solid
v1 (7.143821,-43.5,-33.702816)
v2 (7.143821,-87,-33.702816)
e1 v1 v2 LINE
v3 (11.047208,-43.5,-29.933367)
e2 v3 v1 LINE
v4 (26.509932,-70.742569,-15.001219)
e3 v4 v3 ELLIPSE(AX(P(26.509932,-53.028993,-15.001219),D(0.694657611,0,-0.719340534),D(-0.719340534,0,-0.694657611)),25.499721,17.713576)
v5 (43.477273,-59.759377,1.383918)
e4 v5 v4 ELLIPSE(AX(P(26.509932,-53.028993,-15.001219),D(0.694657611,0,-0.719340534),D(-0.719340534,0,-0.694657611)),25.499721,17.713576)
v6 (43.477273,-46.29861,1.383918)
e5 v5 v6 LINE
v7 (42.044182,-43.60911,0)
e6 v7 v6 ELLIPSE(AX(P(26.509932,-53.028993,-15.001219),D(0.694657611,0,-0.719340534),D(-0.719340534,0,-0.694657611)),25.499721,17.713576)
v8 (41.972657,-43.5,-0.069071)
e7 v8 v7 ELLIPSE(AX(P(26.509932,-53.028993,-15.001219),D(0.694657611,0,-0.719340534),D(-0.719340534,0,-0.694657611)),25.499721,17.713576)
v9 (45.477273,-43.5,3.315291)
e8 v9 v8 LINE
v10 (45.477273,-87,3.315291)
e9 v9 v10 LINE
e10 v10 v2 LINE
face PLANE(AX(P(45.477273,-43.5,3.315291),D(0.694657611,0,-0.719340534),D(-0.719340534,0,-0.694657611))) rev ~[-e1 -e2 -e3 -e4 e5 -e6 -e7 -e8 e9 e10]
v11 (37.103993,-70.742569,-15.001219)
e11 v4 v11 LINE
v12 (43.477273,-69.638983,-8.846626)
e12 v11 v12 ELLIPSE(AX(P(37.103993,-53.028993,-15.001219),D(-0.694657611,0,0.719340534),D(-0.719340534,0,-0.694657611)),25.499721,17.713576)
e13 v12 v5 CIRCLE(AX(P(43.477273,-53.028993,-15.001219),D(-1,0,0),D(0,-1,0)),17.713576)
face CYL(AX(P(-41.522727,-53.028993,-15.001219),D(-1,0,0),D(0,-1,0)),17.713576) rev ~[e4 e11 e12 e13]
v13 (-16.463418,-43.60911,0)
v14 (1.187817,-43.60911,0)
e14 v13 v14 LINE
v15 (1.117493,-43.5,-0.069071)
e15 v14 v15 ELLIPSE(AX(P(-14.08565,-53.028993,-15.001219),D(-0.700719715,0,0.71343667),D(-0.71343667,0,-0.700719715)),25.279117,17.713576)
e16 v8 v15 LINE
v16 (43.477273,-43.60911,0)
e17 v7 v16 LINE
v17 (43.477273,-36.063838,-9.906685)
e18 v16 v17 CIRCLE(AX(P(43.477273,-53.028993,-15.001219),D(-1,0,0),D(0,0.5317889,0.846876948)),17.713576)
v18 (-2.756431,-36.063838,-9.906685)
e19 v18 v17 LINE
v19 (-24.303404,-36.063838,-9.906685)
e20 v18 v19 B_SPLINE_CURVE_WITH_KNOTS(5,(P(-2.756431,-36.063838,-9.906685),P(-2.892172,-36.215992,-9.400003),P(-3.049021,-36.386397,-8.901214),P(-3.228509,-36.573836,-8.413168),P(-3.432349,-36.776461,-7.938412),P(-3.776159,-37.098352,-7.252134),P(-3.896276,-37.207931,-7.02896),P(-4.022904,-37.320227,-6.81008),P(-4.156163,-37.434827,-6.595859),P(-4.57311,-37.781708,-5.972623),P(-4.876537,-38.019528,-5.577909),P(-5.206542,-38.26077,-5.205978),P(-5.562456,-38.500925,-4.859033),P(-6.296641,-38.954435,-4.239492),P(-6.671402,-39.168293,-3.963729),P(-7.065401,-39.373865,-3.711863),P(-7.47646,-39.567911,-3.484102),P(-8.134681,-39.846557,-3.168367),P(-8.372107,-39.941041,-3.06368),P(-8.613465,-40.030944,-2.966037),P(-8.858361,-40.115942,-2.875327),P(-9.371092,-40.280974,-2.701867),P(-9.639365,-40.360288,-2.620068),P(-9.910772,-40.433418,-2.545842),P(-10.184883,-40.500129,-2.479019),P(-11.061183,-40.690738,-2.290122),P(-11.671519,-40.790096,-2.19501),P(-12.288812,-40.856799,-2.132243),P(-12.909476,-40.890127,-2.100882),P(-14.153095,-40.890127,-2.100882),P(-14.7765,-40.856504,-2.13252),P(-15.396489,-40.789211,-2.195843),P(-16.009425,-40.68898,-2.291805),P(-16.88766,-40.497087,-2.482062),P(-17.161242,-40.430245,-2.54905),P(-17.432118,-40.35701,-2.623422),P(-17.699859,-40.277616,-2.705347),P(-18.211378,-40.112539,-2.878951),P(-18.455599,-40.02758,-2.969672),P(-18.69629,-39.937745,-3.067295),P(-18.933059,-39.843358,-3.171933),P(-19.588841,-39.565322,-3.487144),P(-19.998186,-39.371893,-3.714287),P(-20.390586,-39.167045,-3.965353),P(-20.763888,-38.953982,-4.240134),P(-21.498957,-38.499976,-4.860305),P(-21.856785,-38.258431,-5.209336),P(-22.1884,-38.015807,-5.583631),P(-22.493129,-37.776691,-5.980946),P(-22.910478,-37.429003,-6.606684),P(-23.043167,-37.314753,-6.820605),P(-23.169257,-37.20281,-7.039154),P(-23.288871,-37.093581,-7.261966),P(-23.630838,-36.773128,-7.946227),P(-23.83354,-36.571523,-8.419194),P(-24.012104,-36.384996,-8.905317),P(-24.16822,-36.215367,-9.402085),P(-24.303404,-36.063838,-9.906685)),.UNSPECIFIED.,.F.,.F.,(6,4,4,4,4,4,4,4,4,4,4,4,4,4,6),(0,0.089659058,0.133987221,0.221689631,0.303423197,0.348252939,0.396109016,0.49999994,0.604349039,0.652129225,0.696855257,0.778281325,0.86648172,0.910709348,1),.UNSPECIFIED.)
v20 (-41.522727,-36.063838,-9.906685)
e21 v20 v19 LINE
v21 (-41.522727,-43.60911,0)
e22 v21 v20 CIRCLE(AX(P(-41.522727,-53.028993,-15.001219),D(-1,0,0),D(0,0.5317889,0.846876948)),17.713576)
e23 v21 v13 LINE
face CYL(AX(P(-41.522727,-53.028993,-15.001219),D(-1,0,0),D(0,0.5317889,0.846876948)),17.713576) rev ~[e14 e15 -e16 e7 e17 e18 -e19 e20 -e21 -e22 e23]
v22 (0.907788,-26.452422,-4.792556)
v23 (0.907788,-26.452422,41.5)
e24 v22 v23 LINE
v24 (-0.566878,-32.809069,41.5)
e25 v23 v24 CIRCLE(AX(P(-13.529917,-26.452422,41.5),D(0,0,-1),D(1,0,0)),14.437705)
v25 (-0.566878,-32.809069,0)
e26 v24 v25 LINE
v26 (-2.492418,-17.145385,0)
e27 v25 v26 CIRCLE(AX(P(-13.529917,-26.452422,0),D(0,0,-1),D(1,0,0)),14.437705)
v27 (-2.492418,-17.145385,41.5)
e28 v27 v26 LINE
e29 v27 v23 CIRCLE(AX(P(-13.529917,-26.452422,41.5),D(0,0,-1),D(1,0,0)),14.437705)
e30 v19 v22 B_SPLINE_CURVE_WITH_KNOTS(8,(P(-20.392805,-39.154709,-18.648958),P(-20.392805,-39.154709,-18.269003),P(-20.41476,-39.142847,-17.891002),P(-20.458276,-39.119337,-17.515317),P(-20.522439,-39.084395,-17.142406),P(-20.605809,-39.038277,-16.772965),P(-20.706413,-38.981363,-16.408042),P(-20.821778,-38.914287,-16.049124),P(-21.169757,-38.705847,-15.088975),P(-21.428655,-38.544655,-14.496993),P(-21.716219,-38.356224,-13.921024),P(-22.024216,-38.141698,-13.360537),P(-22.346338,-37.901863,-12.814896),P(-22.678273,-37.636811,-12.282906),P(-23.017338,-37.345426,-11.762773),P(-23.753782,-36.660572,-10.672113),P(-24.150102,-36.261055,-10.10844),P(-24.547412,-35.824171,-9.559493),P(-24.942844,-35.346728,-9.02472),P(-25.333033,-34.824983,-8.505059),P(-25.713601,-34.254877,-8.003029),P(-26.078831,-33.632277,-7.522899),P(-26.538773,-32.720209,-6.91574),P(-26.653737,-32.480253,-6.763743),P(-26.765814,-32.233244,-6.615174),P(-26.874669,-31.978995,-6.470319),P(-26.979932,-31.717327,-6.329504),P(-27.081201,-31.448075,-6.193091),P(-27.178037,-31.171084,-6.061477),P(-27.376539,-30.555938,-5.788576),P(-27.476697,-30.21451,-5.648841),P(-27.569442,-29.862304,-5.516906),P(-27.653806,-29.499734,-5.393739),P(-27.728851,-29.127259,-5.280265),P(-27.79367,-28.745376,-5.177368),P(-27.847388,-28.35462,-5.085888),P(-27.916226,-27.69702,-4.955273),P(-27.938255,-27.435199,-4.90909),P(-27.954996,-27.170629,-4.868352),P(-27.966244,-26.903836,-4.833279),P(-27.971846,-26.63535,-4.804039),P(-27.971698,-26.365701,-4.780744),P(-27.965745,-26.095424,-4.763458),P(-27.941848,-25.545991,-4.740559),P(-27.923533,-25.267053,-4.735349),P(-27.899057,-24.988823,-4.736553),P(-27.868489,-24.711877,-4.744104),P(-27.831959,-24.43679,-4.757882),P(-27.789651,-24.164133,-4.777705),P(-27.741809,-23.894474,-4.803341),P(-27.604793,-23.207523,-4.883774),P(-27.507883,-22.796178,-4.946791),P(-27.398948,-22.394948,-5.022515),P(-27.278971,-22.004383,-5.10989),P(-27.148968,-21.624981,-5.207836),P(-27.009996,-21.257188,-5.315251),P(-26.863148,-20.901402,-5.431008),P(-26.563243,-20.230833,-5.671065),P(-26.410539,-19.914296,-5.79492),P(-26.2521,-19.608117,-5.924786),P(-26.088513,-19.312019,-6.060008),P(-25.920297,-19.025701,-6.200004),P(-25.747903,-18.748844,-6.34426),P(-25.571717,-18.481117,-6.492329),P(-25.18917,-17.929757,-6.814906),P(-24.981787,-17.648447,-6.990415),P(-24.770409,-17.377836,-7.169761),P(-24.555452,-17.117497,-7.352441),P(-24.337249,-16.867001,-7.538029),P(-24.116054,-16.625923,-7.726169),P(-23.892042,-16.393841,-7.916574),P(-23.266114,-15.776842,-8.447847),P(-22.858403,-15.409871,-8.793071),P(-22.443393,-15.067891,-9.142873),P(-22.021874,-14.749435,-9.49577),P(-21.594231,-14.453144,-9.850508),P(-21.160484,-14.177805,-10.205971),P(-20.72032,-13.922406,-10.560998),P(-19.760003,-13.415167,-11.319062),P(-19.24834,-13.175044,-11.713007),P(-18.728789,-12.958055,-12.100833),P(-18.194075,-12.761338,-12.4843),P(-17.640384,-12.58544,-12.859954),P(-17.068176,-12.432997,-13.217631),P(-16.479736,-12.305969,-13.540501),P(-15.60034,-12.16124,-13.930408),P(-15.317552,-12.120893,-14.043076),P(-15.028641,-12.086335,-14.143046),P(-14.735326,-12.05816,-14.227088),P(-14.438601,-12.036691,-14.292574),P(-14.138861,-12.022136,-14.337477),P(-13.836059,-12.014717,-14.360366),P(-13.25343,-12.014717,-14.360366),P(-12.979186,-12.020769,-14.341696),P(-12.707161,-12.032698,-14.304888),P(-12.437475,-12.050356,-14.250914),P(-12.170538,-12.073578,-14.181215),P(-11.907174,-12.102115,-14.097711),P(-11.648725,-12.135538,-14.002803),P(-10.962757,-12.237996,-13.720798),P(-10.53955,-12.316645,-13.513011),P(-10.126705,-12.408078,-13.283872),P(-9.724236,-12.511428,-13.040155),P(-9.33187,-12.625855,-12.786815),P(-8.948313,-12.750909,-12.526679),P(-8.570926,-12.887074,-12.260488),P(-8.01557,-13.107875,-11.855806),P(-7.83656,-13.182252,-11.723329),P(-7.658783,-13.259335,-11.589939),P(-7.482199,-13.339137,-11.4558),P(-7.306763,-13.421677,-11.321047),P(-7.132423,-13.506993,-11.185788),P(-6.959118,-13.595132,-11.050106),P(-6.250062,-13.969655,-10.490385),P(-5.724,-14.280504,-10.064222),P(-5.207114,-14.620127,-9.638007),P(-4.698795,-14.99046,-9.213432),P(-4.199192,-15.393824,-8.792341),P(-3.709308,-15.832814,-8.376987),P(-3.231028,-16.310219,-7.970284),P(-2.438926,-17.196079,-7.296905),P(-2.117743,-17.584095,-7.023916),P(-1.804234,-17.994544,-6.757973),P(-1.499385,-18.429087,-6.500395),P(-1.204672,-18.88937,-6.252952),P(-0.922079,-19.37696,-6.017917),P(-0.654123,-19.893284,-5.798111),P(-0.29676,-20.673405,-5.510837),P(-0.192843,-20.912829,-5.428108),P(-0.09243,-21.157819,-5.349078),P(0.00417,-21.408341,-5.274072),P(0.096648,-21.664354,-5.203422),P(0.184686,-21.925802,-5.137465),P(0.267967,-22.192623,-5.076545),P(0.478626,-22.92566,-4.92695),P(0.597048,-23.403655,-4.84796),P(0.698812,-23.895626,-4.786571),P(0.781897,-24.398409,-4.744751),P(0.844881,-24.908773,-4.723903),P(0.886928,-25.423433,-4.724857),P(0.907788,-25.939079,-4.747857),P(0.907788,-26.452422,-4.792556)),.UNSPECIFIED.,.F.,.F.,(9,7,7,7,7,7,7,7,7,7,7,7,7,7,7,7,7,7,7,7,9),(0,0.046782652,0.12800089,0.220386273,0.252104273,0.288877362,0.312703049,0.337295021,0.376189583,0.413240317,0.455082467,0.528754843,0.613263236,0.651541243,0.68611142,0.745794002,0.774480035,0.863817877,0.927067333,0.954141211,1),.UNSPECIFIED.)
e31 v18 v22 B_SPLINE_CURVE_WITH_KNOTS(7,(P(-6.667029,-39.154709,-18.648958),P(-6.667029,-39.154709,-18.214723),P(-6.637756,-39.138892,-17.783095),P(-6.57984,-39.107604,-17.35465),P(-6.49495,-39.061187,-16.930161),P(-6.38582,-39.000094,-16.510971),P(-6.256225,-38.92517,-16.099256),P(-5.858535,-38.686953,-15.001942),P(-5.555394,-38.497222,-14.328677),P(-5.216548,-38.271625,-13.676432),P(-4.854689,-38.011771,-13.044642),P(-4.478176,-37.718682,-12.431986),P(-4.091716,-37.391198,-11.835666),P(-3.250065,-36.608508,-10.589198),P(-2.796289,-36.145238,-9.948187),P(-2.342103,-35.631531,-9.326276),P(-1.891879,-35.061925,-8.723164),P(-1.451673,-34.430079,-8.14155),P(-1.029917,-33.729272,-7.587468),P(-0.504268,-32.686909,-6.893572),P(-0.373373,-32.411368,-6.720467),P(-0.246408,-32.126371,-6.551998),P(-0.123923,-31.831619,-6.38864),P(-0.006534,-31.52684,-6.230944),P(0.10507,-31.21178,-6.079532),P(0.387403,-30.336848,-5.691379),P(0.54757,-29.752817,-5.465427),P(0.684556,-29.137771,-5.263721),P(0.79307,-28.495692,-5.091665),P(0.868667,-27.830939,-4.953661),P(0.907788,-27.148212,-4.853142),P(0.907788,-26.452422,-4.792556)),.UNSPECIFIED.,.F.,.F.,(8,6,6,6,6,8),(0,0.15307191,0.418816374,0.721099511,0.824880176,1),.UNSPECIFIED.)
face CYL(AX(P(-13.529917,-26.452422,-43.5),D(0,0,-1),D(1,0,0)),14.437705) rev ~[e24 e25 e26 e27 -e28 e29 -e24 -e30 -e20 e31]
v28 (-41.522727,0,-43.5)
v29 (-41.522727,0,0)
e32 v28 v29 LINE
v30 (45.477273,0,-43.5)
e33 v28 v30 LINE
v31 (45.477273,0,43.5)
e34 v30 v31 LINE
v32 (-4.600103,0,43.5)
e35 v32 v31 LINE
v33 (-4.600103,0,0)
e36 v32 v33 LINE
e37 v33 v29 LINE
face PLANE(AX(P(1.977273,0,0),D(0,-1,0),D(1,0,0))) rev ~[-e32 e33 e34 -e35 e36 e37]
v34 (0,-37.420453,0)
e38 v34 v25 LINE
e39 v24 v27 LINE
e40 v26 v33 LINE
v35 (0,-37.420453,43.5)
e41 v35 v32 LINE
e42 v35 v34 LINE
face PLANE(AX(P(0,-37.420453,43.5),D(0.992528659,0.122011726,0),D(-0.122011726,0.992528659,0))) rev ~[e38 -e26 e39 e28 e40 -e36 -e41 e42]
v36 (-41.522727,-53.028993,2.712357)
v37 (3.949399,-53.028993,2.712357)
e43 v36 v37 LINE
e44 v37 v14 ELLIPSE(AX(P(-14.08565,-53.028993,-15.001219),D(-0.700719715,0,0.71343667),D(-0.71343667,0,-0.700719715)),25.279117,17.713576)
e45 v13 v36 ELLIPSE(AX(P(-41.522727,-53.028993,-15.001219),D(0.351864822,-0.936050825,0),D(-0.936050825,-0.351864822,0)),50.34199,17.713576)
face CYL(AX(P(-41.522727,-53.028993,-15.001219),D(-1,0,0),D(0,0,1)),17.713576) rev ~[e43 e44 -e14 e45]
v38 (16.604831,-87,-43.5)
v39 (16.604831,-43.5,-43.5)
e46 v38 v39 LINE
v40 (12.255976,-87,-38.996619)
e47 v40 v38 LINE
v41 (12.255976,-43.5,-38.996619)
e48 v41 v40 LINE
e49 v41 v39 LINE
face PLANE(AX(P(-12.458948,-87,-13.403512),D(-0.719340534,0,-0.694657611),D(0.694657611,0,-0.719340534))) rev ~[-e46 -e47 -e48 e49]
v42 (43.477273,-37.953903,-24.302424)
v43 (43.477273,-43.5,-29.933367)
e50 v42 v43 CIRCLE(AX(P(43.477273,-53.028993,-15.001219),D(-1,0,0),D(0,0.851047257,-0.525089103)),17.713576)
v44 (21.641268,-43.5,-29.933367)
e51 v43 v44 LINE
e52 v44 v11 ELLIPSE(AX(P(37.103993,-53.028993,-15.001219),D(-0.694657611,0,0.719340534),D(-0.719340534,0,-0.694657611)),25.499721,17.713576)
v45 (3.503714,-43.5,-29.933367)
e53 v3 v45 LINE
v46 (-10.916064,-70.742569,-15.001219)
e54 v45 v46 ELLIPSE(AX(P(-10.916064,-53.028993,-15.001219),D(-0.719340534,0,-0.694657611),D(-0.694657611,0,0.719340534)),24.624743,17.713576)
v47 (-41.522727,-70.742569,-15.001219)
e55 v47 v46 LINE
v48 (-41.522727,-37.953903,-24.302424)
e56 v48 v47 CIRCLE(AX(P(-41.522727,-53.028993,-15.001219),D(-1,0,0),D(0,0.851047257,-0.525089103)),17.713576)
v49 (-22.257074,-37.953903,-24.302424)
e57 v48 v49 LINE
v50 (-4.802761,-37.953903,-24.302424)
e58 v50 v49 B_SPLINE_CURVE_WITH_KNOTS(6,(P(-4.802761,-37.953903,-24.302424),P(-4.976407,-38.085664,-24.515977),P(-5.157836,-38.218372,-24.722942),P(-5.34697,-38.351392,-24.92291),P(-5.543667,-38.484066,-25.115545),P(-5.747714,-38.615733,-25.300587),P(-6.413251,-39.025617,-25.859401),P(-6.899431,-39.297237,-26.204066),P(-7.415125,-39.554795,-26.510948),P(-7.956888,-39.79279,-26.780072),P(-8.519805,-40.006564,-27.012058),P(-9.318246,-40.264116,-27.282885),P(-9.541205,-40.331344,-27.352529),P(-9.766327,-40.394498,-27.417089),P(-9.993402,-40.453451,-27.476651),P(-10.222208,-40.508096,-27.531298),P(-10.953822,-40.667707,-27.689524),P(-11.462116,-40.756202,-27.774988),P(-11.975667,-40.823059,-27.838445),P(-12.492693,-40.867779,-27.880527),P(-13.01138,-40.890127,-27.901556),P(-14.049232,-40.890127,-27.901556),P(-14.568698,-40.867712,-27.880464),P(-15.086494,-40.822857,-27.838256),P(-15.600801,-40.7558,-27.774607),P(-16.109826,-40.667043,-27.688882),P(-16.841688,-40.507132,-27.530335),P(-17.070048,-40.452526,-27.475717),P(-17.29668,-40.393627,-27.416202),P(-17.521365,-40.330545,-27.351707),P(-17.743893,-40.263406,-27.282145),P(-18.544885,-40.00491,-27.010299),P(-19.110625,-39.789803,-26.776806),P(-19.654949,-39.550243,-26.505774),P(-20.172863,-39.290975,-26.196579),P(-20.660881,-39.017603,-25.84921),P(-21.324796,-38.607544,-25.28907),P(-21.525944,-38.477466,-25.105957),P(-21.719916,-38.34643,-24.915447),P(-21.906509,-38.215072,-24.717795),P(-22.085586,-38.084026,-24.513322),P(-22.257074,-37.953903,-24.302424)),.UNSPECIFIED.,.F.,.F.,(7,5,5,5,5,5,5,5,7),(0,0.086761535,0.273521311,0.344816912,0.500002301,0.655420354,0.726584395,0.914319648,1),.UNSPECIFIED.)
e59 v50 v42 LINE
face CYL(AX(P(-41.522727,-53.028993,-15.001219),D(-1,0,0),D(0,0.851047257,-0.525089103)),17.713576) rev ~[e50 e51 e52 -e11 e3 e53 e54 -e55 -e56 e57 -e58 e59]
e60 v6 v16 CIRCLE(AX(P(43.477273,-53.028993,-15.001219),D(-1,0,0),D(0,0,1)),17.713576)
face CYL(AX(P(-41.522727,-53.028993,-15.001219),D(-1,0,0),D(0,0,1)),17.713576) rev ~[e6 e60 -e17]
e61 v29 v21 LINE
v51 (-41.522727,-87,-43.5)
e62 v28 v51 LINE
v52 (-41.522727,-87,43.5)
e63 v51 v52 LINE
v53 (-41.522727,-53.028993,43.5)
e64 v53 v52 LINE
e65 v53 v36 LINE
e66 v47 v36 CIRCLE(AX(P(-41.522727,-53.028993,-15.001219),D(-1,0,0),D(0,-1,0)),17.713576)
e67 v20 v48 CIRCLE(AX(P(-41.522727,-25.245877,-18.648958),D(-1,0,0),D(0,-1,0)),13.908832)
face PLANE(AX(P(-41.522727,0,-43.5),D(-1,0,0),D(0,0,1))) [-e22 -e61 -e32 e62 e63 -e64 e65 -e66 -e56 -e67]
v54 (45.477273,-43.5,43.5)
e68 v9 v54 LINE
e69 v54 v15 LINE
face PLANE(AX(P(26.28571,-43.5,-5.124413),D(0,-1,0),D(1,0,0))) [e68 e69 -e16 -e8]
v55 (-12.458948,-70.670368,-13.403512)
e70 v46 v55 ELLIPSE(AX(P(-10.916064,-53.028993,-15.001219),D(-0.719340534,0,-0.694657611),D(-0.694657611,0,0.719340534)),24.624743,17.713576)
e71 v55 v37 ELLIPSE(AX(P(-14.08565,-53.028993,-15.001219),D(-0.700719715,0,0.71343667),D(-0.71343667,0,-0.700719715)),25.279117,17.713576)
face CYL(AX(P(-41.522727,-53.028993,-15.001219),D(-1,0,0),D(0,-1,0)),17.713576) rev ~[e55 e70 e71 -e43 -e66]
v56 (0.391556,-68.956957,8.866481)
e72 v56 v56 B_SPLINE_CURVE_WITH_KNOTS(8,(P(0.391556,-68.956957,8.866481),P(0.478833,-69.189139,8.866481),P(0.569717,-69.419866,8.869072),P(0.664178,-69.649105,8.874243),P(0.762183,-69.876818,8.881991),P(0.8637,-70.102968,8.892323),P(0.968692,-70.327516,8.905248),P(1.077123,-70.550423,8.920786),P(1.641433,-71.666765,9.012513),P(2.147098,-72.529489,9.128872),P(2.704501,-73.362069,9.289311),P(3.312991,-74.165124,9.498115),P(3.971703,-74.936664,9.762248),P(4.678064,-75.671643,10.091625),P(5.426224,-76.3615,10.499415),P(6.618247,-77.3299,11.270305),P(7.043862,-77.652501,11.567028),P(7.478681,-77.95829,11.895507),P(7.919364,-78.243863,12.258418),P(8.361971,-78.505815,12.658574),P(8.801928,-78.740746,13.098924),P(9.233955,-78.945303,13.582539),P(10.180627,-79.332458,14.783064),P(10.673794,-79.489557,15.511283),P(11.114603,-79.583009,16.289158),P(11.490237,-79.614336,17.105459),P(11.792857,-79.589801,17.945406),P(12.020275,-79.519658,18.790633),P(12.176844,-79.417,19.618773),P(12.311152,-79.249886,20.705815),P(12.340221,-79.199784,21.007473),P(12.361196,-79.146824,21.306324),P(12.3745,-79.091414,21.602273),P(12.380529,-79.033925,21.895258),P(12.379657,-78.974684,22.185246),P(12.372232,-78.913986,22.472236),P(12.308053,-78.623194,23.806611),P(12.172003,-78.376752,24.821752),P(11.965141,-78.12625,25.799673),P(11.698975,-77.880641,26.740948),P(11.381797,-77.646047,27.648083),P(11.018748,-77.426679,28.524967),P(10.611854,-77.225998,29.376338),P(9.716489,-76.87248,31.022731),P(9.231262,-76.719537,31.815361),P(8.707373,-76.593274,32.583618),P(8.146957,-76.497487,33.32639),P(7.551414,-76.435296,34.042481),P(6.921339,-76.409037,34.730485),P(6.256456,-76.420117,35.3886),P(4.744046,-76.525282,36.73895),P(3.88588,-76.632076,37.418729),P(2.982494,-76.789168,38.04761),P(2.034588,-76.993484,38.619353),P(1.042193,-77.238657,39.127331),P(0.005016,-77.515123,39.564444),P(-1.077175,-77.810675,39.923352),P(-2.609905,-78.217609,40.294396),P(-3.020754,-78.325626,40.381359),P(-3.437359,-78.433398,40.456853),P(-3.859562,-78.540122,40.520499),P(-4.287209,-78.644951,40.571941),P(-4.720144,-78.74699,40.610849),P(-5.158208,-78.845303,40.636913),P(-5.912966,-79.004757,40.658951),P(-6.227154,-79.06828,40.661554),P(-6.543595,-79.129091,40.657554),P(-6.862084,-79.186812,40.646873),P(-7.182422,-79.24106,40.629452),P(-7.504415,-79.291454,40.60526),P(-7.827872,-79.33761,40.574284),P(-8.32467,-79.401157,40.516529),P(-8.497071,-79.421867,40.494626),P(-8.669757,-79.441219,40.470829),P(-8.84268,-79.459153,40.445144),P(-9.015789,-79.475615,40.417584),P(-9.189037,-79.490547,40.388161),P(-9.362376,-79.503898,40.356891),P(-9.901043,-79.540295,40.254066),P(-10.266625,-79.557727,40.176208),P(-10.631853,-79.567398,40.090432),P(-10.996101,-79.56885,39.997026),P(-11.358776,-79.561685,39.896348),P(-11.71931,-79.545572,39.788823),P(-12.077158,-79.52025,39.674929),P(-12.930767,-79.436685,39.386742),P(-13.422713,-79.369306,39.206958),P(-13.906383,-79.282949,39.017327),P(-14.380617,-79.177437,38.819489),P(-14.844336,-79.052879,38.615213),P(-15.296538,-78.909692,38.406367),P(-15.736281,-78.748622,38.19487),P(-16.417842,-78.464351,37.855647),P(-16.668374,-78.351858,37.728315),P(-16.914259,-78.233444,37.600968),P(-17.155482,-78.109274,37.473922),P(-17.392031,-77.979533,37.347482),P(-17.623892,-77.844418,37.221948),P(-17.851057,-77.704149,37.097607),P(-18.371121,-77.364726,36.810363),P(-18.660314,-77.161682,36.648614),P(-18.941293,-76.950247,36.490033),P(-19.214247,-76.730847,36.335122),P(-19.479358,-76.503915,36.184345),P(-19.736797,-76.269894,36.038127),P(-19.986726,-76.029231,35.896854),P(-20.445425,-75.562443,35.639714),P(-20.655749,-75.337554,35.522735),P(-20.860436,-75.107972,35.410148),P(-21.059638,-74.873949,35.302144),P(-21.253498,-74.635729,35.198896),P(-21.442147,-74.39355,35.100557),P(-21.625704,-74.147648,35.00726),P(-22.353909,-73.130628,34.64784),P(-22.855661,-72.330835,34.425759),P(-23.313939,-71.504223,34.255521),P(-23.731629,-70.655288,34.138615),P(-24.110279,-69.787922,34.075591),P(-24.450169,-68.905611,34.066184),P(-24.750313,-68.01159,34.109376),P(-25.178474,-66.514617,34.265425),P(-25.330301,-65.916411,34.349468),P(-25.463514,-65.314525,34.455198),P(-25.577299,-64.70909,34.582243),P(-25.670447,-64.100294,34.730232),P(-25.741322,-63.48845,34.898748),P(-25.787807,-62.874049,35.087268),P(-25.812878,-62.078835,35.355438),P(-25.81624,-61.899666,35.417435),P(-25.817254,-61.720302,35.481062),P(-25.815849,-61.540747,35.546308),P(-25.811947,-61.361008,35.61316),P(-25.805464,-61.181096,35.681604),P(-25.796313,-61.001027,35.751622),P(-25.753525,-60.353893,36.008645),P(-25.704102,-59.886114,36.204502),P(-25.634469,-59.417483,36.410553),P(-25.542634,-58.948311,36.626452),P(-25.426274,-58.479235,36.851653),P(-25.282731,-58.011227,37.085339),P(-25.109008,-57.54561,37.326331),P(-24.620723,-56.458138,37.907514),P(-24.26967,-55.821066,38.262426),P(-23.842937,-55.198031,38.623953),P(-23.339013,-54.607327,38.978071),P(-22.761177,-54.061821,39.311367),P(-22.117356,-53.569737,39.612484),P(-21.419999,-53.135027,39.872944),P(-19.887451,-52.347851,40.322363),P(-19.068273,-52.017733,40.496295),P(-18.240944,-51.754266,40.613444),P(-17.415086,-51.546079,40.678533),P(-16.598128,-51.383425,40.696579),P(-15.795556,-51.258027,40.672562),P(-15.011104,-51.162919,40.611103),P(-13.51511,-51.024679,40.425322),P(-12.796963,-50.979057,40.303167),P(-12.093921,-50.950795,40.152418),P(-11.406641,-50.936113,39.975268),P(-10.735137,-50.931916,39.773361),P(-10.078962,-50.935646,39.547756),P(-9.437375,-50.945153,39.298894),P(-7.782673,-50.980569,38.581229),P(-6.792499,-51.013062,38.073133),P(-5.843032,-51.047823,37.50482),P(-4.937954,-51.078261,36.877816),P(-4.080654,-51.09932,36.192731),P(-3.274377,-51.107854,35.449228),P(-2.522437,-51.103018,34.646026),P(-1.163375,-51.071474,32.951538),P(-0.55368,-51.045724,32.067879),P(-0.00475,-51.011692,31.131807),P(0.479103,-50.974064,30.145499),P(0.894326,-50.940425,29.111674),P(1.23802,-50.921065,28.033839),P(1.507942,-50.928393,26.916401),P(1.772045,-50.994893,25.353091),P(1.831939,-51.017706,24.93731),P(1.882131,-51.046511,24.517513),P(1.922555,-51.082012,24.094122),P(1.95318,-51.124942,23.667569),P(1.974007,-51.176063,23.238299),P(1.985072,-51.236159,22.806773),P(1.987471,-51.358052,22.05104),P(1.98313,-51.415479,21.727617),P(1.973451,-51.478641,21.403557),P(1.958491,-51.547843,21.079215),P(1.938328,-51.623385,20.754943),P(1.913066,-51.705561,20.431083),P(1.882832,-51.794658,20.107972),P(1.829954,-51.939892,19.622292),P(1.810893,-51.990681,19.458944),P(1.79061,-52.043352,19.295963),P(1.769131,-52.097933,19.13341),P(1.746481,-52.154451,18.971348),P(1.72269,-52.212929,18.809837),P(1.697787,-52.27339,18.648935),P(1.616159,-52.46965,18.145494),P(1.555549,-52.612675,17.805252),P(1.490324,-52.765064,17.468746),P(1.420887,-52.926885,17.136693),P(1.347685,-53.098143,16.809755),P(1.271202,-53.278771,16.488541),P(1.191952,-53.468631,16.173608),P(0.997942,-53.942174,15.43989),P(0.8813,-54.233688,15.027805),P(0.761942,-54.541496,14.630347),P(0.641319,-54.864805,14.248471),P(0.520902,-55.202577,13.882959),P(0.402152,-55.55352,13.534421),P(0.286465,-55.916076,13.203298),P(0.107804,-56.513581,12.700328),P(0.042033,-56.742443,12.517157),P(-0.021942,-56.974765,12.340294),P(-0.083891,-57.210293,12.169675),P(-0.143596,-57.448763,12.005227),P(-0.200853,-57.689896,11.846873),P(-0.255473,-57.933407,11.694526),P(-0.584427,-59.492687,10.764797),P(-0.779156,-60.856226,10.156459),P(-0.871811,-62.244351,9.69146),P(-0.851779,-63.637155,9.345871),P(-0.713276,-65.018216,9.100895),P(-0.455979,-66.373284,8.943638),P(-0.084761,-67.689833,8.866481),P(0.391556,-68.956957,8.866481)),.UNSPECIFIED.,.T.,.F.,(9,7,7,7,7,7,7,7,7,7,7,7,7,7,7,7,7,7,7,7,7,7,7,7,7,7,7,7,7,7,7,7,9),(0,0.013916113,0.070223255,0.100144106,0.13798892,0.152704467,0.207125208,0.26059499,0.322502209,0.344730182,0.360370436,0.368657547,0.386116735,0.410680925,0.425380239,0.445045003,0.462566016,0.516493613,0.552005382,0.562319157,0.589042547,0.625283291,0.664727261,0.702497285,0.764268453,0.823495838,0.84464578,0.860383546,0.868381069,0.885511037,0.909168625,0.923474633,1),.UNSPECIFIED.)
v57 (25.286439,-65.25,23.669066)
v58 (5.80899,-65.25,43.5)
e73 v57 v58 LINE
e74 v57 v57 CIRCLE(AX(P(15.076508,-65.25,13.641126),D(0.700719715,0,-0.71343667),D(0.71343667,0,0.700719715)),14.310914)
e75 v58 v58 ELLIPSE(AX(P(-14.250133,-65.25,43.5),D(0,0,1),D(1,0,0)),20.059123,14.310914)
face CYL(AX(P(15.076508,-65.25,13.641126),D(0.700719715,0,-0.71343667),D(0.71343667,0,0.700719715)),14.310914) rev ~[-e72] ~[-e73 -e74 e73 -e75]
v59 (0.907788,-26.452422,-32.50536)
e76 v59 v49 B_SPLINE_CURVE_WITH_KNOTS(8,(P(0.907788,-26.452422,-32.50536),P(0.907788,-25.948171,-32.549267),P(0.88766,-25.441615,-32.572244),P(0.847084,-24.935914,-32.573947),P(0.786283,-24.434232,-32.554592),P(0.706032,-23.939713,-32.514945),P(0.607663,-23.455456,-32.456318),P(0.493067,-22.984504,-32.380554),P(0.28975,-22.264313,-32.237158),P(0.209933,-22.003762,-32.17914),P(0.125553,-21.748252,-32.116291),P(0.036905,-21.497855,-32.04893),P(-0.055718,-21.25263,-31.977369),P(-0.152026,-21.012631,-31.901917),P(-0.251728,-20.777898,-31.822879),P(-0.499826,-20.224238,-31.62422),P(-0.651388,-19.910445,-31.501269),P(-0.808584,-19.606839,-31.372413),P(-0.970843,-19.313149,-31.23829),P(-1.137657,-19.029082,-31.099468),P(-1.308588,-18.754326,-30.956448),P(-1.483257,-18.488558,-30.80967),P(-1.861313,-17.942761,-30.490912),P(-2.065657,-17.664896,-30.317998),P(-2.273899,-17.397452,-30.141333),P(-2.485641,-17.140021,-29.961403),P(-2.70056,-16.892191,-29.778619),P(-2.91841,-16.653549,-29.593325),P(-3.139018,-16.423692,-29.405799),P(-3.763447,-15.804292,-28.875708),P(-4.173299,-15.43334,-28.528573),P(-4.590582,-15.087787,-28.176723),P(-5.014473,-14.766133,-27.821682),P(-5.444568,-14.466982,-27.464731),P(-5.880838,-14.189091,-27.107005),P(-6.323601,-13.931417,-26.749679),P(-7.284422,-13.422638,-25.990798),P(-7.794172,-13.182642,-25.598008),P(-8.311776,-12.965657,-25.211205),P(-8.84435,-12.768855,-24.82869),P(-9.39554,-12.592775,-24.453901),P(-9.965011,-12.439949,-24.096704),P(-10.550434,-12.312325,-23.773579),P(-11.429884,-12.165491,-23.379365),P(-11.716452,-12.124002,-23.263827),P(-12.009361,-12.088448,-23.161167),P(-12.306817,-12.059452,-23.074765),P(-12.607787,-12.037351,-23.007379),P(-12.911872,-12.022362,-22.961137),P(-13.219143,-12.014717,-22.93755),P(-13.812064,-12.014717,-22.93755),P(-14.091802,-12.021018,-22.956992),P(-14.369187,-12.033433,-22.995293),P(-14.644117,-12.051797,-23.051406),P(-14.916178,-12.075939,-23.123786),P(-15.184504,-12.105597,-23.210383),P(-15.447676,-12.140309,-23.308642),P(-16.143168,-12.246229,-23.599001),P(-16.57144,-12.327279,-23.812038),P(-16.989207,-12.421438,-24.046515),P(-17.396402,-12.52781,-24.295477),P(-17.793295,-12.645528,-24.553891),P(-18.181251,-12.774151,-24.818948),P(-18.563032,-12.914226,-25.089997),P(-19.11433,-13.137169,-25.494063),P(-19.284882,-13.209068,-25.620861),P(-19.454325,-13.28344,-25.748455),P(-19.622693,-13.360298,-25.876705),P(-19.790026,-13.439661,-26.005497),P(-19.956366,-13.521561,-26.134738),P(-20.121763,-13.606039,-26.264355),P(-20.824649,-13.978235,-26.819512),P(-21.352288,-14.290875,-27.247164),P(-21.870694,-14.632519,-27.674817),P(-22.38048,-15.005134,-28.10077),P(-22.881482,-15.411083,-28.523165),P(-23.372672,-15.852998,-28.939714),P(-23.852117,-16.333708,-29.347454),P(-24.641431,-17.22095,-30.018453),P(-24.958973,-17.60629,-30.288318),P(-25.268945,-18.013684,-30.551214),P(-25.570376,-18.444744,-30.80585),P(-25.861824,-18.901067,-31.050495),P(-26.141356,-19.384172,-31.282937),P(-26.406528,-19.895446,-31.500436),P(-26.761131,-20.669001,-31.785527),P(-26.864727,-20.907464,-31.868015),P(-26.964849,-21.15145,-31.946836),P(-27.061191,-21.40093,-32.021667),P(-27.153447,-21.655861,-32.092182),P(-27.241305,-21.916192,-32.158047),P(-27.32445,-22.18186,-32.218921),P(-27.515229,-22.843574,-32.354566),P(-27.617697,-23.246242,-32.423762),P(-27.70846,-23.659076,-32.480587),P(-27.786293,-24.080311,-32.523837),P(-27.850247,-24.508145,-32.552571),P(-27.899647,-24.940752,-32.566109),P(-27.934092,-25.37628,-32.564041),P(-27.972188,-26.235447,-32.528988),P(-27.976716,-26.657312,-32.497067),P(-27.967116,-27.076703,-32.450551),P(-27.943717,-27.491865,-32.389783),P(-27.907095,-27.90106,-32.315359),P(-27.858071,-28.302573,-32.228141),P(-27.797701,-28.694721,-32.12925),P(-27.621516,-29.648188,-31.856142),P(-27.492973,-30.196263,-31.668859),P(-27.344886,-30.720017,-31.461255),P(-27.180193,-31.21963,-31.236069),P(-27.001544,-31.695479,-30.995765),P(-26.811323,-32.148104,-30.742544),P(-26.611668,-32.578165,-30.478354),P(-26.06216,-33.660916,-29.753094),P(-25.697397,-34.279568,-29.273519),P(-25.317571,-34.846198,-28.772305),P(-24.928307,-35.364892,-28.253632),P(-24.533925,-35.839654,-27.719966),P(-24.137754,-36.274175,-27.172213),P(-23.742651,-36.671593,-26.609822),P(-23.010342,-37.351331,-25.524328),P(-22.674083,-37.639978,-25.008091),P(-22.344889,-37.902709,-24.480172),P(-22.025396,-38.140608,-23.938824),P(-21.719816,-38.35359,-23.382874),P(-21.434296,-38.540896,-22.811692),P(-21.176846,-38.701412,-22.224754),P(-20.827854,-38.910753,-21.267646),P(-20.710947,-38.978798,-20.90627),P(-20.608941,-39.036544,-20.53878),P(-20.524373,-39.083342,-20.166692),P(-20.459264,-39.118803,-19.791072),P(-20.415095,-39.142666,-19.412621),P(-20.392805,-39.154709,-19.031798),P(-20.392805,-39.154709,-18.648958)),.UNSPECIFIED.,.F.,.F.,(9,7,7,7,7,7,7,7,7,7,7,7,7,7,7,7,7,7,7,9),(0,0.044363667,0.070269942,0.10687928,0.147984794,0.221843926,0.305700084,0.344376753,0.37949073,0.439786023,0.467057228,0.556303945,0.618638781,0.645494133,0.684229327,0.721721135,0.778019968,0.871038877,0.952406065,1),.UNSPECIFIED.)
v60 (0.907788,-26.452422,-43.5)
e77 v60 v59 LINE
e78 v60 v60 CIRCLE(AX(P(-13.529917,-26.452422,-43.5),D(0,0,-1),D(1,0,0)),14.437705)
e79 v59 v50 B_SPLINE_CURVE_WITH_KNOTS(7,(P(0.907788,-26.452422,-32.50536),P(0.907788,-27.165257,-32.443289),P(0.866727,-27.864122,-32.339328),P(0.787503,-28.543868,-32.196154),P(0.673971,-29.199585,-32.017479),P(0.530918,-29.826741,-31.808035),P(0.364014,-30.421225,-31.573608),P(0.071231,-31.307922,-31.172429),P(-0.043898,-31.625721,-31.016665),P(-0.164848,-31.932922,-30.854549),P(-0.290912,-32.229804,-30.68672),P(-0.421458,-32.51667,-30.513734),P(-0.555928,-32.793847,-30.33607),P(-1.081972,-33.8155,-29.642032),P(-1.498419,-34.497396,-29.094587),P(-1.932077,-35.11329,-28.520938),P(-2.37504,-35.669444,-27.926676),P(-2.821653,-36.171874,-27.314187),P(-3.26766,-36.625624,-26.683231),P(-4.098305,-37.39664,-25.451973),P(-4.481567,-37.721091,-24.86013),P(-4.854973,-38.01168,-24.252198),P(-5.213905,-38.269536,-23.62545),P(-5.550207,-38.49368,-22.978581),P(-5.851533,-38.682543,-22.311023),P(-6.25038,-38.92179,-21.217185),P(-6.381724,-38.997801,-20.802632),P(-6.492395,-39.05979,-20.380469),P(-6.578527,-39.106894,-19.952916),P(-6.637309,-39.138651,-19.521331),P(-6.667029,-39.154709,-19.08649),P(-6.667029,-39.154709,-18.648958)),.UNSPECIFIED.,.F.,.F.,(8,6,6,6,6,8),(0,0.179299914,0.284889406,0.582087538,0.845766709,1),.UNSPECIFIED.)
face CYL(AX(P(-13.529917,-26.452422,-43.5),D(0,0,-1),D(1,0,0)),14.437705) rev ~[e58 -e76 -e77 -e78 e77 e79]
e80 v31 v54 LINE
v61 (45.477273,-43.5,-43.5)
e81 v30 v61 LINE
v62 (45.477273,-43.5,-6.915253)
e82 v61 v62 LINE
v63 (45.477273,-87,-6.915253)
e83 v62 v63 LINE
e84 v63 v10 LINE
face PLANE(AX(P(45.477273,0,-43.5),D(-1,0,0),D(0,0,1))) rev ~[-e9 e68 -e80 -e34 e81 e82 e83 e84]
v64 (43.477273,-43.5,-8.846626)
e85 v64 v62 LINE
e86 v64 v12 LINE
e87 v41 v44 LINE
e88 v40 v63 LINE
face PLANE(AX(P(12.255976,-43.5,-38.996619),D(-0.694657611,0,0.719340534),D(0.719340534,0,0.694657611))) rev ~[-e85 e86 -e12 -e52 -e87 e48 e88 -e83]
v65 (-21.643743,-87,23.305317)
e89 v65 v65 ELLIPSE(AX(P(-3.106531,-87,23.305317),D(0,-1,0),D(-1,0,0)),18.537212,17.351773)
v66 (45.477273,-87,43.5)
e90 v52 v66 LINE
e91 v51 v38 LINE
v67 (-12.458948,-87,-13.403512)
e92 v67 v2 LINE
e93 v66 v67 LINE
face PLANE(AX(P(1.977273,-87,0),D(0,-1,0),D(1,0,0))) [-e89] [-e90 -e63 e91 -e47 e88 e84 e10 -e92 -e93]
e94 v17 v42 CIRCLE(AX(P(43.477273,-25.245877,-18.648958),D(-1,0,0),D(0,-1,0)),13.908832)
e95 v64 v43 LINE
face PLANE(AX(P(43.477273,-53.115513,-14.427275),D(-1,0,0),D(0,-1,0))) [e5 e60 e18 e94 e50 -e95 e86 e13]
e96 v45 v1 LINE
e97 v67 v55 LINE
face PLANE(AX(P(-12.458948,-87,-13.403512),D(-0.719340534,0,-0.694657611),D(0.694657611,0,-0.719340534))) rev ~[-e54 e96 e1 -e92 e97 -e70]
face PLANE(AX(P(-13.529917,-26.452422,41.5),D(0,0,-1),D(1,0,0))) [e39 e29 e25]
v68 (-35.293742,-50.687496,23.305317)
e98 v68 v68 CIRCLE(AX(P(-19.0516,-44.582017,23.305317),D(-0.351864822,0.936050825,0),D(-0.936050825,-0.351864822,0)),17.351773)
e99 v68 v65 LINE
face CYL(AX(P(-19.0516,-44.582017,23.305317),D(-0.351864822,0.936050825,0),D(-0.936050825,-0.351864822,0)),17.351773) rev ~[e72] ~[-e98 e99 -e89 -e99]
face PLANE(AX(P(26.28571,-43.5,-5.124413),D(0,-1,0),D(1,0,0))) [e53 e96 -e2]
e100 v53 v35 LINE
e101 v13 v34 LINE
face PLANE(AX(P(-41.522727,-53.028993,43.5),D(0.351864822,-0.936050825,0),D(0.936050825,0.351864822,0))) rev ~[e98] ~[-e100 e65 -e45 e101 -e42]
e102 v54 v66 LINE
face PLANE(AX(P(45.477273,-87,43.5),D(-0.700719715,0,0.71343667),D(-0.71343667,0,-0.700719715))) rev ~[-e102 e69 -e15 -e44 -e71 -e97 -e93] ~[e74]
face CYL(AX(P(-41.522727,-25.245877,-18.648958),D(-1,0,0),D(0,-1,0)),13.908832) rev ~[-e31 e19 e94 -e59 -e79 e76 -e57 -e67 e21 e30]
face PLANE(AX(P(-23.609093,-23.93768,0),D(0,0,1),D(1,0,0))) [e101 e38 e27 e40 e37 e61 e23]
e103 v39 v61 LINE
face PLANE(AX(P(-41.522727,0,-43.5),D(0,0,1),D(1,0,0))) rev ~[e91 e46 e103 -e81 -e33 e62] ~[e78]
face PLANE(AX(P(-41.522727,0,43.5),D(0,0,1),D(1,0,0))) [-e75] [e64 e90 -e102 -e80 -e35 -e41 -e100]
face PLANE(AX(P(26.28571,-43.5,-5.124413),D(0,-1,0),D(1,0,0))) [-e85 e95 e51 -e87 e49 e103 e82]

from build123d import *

# Parameters (mm, degrees)
F0_W      = 87
F0_H      = 87
F1_DEPTH  = 87
F3_DEPTH  = 43.5
F5_DEPTH  = 43.5
F6_R      = 14.4377052149
F7_DEPTH  = 85
F8_R      = 13.9088324257
F9_DEPTH  = 85
F10_R     = 14.310913908
F11_DEPTH = 87
F13_DEPTH = 43.5
F15_DEPTH = 85
F16_R     = 17.3517727339
F17_DEPTH = 87


with BuildPart() as f1:
    # F0 (on Front) → F1 (new body)
    with BuildSketch(Plane.XZ):
        with Locations((1.9772734489, 0)):
            Rectangle(F0_W, F0_H)
    extrude(amount=F1_DEPTH)

    # F2 (on face) → F3 (cut)
    with BuildSketch(Plane.XY.offset(43.5)):
        Polygon((-41.5227265511, 0), (-41.5227265511, -53.0289933085), (0, -37.420453267), (-4.6001030132, 0), align=None)
    extrude(amount=-F3_DEPTH, mode=Mode.SUBTRACT)

    # F4 (on face) → F5 (cut)
    with BuildSketch(Plane.XZ.offset(87)):
        Polygon((45.4772734489, 43.5), (-12.4589475545, -13.403512232), (16.6048314422, -43.5), (45.4772734489, -43.5), align=None)
    extrude(amount=-F5_DEPTH, mode=Mode.SUBTRACT)

    # F6 (on face) → F7 (cut)
    with BuildSketch(Plane(origin=(0, 0, -43.5), x_dir=(1, 0, 0), z_dir=(0, 0, -1))):
        with Locations((-13.5299172252, 26.452422142)):
            Circle(F6_R)
    extrude(amount=-F7_DEPTH, mode=Mode.SUBTRACT)

    # F8 (on face) → F9 (cut)
    with BuildSketch(Plane(origin=(-41.5227265511, 0, 0), x_dir=(0, -1, 0), z_dir=(-1, 0, 0))):
        with Locations((25.2458769828, -18.6489578336)):
            Circle(F8_R)
    extrude(amount=-F9_DEPTH, mode=Mode.SUBTRACT)

    # F10 (on face) → F11 (cut)
    with BuildSketch(Plane(origin=(0.5832279038, 0, -0.593812568), x_dir=(0.7134366695, 0, 0.7007197147), z_dir=(0.7007197147, 0, -0.7134366695))):
        with Locations((20.3147400171, 65.25)):
            Circle(F10_R)
    extrude(amount=-F11_DEPTH, mode=Mode.SUBTRACT)

    # F12 (on face) → F13 (join)
    with BuildSketch(Plane.XZ.offset(43.5)):
        Polygon((45.4772734489, 3.3152910087), (7.1438206622, -33.7028158401), (12.2559760747, -38.9966189225), (45.4772734489, -6.9152527408), align=None)
    extrude(amount=F13_DEPTH)

    # F14 (on face) → F15 (cut)
    with BuildSketch(Plane(origin=(-41.5227265511, 0, 0), x_dir=(0, -1, 0), z_dir=(-1, 0, 0))):
        with BuildLine():
            ThreePointArc((37.9539034635, -24.3024242405), (57.8630917211, -32.0424114958), (70.742568812, -15.001218766))
            ThreePointArc((70.742568812, -15.001218766), (65.5543826661, -2.4758294084), (53.0289933085, 2.7123567374))
            Line((53.0289933085, 2.7123567374), (53.0289933085, 0))
            Line((53.0289933085, 0), (43.6091104722, 0))
            ThreePointArc((43.6091104722, 0), (38.9372170577, -4.2684372434), (36.0638383113, -9.9066851234))
            ThreePointArc((36.0638383113, -9.9066851234), (38.3592447949, -14.0126657732), (39.1547094085, -18.6489578336))
            ThreePointArc((39.1547094085, -18.6489578336), (38.8511963511, -21.5387509634), (37.9539034635, -24.3024242405))
        make_face()
        with BuildLine():
            Line((53.0289933085, 0), (53.0289933085, 2.7123567374))
            ThreePointArc((53.0289933085, 2.7123567374), (48.1276906317, 2.0207666994), (43.6091104722, 0))
            Line((43.6091104722, 0), (53.0289933085, 0))
        make_face()
    extrude(amount=-F15_DEPTH, mode=Mode.SUBTRACT)

    # F16 (on face) → F17 (cut)
    with BuildSketch(Plane(origin=(12.3249261037, -32.7874698726, 0), x_dir=(-0.9360508251, -0.3518648219, 0), z_dir=(-0.3518648219, 0.9360508251, 0))):
        with Locations((33.5201099515, 23.305317387)):
            Circle(F16_R)
    extrude(amount=-F17_DEPTH, mode=Mode.SUBTRACT)


solid = f1.part
